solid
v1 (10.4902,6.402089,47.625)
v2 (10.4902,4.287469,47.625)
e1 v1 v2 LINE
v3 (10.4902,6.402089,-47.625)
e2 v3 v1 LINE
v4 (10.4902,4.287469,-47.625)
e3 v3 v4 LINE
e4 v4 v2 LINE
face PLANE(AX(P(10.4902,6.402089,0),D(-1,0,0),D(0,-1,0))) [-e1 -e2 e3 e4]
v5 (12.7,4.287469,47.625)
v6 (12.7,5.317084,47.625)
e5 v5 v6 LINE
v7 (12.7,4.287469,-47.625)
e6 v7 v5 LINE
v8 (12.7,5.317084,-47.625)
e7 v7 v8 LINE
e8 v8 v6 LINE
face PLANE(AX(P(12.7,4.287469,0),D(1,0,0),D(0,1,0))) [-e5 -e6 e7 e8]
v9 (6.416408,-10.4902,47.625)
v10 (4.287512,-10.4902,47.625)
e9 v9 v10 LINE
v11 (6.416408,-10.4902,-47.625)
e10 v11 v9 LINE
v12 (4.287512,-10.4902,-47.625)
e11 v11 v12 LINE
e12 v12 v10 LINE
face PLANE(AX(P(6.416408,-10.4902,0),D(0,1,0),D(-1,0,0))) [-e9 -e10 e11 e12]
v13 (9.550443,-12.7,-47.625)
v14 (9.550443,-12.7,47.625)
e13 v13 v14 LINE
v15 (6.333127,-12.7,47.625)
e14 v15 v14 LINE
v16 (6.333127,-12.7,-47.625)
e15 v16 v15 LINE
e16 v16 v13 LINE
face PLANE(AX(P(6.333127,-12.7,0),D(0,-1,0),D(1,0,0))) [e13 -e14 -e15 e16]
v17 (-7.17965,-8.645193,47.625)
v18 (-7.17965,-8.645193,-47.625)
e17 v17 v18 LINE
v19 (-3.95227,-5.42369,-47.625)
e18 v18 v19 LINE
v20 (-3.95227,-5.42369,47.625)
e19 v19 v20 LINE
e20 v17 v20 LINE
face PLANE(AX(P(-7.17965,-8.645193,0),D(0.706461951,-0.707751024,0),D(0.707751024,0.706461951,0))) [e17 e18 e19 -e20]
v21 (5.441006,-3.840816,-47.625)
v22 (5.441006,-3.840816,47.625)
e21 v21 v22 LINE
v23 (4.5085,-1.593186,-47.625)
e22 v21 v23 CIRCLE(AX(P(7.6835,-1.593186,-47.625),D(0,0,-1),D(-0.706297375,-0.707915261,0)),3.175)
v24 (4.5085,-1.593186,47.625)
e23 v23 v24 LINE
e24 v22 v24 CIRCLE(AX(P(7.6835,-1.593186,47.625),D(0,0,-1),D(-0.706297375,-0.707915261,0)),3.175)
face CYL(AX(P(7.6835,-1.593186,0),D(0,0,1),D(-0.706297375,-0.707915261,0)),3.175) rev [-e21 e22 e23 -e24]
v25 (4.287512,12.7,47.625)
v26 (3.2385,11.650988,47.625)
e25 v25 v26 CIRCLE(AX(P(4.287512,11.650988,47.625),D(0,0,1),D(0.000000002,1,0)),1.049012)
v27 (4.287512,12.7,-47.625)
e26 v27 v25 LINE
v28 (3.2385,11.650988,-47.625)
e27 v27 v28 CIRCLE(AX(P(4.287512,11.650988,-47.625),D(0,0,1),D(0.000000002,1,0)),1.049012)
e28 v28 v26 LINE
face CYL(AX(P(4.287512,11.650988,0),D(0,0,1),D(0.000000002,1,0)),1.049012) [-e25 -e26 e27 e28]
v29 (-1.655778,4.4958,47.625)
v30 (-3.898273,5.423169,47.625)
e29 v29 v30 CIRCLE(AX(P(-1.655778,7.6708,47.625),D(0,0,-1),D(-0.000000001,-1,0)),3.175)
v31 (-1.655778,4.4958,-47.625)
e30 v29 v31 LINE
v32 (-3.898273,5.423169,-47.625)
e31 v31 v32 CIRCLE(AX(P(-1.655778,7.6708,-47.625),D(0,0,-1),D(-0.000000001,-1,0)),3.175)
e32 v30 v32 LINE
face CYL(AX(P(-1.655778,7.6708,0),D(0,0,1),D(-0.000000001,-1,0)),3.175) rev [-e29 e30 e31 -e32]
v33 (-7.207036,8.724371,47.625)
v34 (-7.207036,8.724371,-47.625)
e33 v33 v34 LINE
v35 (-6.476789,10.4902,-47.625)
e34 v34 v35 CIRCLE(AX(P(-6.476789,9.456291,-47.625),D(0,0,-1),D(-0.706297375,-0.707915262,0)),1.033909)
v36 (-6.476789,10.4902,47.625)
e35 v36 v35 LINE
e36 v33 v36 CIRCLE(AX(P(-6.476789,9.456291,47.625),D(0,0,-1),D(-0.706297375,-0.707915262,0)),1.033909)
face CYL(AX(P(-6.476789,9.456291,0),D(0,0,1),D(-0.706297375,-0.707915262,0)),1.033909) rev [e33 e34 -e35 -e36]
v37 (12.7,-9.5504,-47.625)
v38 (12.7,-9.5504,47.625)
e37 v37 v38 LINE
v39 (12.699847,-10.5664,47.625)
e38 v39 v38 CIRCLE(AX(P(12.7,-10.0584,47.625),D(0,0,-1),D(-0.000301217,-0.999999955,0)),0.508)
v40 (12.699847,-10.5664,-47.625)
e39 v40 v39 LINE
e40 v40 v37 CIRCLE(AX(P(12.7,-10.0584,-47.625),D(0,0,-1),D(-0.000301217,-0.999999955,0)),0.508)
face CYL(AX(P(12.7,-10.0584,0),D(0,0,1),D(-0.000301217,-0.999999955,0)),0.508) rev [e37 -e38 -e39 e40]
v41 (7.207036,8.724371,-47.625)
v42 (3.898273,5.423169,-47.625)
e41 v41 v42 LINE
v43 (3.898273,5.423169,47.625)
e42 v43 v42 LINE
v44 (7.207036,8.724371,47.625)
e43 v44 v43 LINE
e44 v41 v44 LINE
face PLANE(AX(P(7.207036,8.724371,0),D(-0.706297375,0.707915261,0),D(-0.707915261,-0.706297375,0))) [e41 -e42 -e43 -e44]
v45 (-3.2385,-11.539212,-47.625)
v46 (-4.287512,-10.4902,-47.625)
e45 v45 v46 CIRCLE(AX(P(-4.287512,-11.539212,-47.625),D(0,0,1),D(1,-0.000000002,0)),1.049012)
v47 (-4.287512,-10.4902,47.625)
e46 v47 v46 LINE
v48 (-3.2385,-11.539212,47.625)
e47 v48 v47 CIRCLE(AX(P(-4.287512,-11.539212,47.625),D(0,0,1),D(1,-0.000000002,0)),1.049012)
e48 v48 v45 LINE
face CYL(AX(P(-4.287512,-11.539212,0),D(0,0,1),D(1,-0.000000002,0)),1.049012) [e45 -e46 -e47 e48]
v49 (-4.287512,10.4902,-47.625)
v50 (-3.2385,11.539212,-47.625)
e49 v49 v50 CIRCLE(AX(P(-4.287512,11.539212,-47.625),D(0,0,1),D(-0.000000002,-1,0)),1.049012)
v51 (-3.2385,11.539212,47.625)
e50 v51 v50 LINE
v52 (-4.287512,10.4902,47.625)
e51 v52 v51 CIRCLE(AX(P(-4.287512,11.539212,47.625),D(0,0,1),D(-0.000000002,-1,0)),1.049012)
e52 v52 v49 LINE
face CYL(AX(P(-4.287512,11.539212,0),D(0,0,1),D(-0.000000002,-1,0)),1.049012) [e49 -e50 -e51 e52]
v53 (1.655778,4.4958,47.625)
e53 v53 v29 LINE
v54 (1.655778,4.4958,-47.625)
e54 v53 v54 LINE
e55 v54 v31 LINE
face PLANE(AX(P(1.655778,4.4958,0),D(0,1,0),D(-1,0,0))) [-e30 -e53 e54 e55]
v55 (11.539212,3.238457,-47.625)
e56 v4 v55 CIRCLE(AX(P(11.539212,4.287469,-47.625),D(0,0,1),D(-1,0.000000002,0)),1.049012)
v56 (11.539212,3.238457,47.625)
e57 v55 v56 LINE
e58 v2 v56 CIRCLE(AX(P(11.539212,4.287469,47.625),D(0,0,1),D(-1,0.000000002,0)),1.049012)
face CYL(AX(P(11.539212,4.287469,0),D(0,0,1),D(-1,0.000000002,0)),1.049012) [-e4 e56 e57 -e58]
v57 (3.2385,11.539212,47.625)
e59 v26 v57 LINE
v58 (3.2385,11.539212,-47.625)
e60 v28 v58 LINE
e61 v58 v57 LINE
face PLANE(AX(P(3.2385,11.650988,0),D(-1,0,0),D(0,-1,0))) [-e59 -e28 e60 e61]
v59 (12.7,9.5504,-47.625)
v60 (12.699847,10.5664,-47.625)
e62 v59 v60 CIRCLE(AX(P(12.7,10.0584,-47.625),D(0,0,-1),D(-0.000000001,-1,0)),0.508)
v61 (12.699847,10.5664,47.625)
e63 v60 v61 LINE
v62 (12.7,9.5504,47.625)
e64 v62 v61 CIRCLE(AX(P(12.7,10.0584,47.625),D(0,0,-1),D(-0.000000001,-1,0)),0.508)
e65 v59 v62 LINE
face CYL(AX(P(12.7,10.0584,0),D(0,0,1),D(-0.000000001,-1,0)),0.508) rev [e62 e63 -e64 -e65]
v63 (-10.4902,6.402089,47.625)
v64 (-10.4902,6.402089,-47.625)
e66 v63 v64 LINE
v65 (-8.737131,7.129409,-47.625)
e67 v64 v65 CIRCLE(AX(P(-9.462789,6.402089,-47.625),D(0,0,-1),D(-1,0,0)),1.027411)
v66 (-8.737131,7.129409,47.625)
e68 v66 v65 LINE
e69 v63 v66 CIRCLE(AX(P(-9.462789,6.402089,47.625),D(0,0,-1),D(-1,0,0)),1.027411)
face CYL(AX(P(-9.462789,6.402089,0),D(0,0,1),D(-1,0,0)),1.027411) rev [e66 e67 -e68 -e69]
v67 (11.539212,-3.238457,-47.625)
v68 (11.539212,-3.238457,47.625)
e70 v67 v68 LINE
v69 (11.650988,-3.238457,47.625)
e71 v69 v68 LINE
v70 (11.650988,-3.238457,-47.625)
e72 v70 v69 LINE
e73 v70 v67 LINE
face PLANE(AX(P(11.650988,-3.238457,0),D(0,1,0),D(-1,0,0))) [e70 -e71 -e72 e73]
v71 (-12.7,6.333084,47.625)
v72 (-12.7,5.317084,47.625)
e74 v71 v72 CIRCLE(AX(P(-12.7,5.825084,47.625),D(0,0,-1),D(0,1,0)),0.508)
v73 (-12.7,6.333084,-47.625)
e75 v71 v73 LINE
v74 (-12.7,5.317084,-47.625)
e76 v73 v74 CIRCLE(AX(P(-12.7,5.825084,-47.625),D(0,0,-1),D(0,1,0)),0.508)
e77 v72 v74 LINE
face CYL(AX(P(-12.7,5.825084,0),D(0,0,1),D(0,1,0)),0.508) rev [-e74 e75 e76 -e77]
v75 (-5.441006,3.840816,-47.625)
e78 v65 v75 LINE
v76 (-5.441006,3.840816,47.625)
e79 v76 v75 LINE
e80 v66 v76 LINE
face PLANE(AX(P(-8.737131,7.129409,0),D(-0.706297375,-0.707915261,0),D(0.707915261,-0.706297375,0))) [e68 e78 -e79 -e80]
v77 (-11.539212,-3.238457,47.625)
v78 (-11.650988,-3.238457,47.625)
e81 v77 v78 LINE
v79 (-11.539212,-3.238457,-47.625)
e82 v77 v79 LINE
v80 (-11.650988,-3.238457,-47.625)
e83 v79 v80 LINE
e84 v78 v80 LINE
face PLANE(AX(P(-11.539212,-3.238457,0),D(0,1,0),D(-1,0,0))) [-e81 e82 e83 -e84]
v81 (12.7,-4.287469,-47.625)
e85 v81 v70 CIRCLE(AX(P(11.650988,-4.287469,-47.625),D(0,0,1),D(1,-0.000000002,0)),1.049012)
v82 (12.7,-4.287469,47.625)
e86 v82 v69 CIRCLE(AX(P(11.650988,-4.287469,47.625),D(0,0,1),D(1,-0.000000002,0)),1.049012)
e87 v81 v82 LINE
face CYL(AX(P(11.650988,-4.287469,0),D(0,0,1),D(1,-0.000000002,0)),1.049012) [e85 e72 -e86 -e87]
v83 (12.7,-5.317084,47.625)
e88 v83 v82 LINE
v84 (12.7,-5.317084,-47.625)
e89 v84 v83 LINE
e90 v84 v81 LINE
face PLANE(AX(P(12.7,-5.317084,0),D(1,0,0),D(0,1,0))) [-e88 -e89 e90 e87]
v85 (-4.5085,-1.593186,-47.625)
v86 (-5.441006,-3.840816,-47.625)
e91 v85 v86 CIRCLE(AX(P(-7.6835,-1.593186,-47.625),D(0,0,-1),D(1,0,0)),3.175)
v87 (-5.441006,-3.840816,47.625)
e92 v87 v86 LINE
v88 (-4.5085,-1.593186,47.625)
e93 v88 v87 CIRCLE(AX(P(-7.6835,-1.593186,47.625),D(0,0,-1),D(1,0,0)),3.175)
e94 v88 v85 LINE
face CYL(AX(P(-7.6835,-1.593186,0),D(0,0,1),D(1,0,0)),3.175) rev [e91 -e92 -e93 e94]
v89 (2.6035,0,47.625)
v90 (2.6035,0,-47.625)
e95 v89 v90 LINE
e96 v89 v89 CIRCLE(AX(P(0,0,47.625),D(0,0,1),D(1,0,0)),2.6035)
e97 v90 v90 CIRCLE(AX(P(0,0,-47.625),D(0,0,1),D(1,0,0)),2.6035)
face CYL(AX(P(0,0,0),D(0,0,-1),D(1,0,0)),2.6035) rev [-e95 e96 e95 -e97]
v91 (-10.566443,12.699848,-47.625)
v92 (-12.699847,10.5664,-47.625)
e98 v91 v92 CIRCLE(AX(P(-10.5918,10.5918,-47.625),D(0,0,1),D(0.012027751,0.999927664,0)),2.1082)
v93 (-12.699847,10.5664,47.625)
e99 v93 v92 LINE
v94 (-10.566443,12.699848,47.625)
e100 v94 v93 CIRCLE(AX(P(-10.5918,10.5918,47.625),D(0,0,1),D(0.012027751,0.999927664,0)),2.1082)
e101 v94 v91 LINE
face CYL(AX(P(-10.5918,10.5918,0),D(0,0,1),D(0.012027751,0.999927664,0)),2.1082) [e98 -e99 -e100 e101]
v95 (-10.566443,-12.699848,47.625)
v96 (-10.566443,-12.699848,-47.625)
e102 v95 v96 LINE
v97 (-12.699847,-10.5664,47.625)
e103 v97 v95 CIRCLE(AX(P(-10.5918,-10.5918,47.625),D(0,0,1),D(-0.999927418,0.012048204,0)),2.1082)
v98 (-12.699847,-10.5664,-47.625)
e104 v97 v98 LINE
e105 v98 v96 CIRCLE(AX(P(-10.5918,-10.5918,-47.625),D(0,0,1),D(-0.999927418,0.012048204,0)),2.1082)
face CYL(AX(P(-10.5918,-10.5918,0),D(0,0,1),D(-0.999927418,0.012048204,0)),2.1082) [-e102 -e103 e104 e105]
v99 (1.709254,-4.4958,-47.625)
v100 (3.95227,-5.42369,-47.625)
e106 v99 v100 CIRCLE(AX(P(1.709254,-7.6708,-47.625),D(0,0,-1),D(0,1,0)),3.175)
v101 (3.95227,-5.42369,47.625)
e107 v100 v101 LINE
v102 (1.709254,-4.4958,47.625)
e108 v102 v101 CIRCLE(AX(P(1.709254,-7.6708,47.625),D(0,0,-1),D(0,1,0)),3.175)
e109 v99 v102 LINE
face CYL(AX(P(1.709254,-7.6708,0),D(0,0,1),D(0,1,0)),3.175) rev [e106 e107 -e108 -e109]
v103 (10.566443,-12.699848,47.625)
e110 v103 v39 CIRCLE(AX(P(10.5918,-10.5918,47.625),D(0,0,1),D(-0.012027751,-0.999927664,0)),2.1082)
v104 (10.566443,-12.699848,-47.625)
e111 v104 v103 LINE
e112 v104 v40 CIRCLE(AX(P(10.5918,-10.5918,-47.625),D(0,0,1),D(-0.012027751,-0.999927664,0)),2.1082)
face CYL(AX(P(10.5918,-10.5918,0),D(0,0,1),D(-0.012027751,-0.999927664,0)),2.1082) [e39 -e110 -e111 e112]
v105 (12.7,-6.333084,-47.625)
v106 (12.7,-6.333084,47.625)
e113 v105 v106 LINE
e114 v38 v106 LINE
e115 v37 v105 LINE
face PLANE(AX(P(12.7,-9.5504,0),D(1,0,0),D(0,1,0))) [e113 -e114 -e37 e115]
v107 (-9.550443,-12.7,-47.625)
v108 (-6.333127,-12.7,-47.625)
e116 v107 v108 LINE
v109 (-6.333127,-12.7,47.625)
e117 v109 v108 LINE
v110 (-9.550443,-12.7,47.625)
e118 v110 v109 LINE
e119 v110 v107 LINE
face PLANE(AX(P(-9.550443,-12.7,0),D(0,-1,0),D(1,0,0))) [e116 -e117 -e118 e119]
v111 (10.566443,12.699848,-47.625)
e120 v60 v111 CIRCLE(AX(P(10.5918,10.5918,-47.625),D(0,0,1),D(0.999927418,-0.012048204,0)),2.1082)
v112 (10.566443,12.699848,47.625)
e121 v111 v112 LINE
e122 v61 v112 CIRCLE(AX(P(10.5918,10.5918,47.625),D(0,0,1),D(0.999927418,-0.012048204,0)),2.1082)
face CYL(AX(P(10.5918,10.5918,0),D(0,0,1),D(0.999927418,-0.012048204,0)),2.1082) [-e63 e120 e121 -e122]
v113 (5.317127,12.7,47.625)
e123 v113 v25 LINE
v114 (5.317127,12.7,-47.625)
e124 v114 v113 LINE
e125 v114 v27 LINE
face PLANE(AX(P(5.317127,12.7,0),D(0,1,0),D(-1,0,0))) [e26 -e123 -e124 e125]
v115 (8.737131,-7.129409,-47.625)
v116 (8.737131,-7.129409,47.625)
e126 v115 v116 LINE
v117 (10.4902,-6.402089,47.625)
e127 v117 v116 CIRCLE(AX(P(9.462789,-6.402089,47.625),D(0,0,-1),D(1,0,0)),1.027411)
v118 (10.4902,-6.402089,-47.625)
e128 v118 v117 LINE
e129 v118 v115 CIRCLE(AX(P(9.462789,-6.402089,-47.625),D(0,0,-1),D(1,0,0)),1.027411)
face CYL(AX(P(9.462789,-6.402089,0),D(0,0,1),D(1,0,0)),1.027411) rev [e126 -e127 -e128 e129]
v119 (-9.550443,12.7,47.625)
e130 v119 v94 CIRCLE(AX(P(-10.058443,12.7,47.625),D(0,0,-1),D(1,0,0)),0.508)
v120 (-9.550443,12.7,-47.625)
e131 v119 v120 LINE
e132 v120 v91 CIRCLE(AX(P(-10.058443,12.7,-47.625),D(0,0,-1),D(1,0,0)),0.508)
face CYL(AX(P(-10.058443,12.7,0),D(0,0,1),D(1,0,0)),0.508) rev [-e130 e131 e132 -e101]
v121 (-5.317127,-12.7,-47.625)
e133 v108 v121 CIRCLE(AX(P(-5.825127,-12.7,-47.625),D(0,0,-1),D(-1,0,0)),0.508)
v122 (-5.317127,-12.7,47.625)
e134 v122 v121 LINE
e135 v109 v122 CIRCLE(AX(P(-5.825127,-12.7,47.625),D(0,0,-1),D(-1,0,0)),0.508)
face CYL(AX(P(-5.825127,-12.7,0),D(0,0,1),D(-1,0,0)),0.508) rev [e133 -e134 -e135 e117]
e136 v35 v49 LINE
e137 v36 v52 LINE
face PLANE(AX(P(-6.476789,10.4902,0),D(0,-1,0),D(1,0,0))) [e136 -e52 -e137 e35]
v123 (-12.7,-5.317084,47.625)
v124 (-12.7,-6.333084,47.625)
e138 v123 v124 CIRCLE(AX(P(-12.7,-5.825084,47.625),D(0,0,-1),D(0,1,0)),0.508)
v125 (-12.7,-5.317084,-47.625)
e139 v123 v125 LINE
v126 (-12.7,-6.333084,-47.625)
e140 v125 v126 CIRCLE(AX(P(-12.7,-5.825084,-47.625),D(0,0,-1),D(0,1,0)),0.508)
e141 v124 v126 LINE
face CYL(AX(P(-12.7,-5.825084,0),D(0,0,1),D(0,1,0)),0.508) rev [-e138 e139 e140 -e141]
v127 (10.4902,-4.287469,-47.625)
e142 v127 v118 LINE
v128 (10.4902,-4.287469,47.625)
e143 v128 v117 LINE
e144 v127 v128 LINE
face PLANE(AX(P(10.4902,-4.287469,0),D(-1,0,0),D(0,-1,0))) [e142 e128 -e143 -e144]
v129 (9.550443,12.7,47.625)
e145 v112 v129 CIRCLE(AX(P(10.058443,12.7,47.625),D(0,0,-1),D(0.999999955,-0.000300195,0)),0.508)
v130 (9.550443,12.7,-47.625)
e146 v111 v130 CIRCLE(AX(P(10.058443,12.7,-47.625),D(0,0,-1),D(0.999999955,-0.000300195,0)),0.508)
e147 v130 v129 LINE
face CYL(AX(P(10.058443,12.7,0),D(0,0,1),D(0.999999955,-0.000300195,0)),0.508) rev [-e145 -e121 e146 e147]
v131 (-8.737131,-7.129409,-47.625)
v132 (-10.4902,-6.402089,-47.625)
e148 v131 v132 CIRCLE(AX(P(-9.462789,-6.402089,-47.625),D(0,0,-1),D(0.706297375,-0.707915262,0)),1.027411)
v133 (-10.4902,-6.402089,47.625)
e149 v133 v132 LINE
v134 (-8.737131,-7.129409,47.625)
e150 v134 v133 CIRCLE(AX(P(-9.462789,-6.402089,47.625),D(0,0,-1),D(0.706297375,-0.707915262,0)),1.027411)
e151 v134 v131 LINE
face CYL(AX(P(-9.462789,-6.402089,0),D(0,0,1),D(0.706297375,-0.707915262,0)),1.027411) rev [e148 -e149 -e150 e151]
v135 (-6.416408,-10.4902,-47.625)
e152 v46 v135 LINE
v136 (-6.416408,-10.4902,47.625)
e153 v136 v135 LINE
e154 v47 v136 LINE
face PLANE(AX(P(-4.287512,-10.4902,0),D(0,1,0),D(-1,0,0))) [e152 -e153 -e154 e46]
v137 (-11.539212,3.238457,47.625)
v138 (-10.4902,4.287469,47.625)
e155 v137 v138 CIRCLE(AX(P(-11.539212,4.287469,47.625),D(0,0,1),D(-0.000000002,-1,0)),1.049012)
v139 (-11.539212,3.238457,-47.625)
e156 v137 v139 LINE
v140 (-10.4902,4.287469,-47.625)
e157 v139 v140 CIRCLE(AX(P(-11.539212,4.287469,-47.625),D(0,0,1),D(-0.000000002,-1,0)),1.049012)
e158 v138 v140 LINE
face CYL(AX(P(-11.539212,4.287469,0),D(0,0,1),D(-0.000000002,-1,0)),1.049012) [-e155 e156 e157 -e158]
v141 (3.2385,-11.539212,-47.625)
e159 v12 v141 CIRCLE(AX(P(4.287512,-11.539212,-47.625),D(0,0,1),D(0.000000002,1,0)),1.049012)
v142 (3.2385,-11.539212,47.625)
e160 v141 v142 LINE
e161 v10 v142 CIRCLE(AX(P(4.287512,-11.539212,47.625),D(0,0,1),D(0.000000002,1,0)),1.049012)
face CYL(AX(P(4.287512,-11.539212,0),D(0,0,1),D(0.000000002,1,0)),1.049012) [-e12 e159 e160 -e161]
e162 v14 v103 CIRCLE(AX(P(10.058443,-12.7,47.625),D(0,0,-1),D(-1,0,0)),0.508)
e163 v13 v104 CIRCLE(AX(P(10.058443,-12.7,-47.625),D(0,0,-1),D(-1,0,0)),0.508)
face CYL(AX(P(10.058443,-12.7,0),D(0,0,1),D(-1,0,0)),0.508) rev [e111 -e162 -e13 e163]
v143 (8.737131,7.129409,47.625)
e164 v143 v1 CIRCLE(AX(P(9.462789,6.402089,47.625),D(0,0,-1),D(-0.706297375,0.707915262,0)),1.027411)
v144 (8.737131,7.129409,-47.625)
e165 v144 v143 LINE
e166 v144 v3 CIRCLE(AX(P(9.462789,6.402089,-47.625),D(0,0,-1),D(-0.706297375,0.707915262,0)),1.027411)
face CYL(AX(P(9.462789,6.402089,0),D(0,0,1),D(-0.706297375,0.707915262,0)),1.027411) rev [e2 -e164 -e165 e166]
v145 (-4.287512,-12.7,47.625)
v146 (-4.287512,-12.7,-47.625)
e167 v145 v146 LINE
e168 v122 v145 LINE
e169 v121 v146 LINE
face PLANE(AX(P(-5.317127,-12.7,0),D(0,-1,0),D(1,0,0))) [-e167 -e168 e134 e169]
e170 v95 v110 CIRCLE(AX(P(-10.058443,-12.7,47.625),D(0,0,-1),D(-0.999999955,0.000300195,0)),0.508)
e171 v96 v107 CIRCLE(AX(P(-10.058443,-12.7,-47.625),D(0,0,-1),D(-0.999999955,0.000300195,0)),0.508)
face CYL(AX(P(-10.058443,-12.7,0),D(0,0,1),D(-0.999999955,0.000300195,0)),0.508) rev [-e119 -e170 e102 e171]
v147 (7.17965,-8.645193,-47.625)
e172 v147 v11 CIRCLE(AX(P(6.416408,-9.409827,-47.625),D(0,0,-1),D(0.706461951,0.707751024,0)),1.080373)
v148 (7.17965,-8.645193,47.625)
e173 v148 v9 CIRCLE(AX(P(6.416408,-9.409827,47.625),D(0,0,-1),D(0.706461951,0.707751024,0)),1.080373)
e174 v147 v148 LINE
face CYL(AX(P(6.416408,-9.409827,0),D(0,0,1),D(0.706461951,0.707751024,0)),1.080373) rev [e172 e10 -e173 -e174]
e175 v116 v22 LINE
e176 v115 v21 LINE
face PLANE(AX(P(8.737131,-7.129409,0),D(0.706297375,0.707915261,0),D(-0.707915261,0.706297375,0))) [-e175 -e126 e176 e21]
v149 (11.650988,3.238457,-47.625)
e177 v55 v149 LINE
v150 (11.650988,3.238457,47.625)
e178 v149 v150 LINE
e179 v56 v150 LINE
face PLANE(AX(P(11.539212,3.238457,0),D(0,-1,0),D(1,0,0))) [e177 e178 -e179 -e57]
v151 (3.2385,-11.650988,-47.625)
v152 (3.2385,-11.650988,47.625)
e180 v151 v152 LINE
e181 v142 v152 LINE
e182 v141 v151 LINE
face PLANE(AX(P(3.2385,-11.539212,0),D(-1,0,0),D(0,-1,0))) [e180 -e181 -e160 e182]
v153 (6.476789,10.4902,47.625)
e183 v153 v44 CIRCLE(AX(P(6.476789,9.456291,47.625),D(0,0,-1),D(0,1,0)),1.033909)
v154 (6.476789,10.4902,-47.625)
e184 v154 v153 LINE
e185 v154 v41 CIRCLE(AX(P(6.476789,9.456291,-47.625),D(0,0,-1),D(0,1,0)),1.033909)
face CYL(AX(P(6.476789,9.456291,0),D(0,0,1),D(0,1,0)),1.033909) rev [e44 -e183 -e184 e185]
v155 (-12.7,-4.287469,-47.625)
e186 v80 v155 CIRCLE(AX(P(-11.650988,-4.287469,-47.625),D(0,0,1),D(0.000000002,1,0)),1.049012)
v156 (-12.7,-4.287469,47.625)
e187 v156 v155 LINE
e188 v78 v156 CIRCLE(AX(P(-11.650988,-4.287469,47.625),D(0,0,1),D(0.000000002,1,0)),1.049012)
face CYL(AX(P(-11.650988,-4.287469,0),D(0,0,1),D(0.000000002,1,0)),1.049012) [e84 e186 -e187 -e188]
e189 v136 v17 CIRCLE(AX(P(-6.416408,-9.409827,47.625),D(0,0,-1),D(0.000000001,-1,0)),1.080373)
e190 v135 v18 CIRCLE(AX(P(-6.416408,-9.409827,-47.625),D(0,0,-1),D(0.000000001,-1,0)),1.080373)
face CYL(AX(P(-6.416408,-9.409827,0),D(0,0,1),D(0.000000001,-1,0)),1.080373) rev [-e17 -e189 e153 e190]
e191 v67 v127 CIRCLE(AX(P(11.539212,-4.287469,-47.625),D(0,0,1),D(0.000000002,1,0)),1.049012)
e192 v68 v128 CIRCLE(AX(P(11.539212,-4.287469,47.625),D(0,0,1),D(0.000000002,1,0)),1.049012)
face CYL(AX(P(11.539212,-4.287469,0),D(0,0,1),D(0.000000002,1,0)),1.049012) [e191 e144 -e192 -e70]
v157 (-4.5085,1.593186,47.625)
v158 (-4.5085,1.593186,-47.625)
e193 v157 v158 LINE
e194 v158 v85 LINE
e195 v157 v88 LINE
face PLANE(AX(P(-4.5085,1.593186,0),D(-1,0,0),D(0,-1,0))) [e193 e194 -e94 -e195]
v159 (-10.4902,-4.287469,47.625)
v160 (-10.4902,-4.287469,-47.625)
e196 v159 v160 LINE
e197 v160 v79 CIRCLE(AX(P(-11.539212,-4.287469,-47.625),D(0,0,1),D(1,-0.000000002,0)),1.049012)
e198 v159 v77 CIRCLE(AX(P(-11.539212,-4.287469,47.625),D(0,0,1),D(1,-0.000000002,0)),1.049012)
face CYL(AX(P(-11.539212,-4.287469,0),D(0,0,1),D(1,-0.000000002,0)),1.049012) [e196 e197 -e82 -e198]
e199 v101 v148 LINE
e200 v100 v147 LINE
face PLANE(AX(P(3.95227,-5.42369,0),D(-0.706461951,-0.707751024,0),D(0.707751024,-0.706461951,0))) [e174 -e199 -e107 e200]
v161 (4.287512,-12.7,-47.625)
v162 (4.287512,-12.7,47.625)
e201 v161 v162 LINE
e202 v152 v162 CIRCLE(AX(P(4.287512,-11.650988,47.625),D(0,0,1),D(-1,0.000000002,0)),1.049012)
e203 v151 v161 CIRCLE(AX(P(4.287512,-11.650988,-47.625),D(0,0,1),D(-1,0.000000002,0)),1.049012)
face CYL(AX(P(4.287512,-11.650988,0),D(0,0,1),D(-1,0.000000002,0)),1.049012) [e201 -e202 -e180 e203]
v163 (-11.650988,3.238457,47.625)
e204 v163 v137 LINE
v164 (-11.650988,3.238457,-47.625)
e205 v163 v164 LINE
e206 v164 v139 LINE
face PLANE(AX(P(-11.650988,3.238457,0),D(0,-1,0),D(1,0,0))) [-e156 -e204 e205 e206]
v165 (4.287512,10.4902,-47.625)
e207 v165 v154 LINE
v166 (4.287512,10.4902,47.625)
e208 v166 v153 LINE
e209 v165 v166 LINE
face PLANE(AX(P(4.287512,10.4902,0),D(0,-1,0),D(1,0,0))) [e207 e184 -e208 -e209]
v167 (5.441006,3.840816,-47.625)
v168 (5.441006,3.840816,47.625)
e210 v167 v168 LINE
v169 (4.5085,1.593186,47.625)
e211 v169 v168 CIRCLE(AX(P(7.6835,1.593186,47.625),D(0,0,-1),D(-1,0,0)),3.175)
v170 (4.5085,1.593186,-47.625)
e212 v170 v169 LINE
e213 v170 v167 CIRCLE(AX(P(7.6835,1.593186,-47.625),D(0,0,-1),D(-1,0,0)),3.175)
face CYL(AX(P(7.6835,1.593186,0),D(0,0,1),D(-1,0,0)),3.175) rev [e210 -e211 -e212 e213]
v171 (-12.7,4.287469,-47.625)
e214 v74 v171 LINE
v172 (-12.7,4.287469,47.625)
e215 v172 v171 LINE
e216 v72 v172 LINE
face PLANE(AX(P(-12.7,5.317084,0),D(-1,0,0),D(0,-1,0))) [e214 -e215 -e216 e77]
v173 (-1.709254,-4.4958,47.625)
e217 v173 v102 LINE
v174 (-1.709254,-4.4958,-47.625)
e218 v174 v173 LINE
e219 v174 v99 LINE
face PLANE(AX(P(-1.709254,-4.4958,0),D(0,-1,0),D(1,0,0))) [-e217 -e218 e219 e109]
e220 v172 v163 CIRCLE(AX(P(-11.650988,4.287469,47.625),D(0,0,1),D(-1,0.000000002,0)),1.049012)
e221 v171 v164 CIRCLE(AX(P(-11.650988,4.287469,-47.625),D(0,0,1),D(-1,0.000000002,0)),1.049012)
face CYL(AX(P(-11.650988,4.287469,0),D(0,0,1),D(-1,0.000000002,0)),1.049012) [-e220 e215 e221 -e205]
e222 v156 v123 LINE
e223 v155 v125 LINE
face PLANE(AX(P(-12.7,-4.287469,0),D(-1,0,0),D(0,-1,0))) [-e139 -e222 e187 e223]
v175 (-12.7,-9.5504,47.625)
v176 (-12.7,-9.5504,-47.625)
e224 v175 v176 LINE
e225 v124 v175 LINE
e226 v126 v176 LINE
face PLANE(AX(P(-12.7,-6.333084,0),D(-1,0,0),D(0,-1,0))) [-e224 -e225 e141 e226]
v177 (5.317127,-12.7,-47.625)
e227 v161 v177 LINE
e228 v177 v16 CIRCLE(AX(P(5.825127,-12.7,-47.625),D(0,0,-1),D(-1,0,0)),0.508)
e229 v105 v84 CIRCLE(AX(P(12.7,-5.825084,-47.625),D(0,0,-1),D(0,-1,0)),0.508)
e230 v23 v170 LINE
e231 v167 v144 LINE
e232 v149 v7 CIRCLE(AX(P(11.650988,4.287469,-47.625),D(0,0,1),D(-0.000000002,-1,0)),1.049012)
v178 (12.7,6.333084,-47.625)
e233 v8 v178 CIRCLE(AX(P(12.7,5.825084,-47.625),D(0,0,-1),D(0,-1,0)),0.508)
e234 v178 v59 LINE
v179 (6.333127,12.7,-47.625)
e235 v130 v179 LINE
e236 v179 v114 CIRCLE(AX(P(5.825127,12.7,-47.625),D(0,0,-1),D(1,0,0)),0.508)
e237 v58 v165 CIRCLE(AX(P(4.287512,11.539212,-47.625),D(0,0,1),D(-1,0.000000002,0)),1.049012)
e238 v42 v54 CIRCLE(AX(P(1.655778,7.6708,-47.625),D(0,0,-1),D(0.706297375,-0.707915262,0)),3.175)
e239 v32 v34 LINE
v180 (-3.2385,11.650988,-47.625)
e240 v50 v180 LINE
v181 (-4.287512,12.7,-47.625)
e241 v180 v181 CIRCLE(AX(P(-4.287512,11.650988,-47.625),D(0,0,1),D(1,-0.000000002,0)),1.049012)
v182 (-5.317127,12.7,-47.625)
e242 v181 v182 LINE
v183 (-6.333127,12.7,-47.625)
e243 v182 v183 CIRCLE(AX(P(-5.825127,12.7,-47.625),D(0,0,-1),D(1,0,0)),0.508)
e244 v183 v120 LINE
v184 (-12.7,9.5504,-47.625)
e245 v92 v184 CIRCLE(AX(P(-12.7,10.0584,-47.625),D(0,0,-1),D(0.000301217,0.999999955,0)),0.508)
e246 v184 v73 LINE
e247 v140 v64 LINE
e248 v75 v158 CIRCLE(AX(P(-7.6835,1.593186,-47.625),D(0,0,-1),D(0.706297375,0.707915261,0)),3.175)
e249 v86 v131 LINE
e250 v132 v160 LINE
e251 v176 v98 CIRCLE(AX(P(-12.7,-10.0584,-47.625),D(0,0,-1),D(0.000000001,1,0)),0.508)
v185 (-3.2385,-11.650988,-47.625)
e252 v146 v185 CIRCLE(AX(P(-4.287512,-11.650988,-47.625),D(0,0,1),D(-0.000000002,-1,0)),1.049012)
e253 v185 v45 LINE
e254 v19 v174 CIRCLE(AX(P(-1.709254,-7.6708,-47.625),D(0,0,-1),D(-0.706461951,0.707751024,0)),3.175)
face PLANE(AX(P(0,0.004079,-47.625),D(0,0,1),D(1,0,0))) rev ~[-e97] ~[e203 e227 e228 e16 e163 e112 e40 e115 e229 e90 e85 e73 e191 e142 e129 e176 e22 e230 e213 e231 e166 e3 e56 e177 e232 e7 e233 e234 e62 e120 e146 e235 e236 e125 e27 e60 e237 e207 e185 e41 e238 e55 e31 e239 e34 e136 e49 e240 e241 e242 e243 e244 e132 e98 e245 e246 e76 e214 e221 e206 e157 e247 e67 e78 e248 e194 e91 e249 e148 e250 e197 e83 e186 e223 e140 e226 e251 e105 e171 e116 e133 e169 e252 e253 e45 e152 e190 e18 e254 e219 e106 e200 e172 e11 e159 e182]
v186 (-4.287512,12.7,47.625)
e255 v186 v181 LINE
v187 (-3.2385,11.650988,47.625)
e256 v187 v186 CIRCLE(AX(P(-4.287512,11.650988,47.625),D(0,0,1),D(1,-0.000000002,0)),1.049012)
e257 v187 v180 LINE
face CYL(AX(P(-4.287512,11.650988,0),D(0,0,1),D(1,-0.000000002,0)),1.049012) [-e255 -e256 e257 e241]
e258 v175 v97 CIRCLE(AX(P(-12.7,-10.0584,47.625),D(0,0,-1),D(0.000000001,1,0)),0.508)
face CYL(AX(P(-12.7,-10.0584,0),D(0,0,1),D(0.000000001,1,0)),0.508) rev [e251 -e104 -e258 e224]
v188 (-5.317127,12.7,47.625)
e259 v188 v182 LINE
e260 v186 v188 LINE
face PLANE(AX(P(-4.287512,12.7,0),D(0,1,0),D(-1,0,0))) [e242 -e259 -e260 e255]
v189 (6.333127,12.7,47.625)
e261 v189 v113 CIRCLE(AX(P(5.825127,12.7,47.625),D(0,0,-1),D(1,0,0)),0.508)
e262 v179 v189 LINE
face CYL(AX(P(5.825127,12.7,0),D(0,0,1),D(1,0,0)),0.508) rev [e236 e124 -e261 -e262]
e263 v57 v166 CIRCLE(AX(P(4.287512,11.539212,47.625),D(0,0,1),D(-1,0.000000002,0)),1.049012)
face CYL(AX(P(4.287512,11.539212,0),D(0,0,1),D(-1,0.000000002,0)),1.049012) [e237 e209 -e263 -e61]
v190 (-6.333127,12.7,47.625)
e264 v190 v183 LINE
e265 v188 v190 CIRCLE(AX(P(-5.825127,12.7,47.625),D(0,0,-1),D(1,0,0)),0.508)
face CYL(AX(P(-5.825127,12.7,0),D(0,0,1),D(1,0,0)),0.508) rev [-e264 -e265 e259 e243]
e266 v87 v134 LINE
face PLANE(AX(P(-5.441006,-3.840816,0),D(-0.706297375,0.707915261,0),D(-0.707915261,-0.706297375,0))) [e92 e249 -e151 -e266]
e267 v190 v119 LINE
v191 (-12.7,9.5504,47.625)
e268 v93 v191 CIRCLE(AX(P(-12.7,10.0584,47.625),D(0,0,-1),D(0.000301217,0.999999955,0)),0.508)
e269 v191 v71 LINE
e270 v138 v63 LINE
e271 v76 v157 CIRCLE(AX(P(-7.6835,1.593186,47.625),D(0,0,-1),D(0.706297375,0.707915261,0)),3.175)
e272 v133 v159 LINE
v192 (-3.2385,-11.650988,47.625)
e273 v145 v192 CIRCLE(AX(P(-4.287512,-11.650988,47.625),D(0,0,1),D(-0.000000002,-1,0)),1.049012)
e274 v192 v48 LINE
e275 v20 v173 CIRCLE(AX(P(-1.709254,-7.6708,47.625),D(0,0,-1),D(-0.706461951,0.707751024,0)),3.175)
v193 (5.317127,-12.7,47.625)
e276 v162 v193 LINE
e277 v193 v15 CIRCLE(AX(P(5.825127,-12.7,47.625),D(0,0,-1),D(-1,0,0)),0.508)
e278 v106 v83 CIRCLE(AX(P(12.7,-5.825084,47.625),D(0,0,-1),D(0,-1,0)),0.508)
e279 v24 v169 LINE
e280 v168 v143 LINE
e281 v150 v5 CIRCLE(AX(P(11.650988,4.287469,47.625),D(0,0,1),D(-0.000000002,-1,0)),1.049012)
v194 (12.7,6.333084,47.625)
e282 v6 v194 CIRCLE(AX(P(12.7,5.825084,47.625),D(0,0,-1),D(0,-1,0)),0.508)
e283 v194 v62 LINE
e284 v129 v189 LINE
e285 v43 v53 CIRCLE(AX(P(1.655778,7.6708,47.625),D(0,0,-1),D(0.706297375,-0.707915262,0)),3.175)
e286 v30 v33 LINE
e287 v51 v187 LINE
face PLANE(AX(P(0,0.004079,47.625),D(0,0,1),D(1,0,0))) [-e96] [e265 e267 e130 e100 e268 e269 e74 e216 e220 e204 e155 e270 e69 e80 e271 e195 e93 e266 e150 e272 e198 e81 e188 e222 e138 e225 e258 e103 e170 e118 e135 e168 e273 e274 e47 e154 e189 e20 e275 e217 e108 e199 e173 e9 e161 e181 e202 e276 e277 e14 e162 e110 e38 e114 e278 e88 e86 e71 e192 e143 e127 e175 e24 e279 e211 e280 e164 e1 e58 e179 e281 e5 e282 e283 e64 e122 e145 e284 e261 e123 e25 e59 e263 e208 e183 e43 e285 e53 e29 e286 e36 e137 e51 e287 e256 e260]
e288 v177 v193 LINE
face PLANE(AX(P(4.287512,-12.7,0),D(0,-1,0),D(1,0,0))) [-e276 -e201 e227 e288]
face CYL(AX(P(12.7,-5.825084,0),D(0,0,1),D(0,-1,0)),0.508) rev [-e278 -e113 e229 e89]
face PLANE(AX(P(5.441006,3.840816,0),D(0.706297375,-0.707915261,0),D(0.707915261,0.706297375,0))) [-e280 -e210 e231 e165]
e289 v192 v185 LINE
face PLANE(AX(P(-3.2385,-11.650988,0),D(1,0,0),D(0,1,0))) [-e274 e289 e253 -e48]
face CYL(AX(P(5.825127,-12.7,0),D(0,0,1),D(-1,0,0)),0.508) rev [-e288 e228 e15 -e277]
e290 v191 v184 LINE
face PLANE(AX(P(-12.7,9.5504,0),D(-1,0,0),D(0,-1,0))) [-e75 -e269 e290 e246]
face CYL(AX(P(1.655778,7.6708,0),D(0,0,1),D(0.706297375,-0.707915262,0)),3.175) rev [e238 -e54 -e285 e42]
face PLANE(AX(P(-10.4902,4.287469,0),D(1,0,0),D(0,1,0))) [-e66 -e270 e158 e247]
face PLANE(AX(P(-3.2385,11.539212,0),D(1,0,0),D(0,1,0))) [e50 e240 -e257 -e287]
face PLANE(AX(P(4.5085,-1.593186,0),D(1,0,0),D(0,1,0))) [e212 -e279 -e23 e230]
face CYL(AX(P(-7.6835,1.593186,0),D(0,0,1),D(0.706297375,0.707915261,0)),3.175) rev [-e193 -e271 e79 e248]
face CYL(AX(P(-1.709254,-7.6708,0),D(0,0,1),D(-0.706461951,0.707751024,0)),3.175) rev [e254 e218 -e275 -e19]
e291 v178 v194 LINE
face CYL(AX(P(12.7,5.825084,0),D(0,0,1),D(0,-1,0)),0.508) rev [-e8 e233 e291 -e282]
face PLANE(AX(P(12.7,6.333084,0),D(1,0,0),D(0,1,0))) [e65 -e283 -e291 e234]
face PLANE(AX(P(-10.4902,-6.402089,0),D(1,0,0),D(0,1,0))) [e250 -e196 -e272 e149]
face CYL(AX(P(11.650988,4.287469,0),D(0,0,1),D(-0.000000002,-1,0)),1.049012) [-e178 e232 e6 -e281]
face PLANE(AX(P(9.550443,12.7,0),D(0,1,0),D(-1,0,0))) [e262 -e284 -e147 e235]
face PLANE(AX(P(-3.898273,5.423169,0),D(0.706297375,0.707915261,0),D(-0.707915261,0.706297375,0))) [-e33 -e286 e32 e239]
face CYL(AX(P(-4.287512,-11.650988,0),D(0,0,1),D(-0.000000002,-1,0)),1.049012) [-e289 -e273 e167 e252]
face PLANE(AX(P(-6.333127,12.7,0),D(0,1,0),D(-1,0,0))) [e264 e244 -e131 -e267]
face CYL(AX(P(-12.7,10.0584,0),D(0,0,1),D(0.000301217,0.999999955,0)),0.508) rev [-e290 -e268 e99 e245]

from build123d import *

# Parameters (mm, degrees)
SKETCH1_R           = 2.6035
BOSS_EXTRUDE1_DEPTH = 47.625


with BuildPart() as part:
    # Sketch1 → Boss-Extrude1 (new, symmetric)
    with BuildSketch(Plane.XY):
        with BuildLine():
            Line((-7.179650497, -8.645192506), (-3.952270251, -5.423690499))
            ThreePointArc((-3.952270251, -5.423690499), (-2.922936451, -4.736929036), (-1.709253557, -4.4958))
            Line((-1.709253557, -4.4958), (1.709253557, -4.4958))
            ThreePointArc((1.709253557, -4.4958), (2.922936451, -4.736929036), (3.952270251, -5.423690499))
            Line((3.952270251, -5.423690499), (7.179650497, -8.645192506))
            ThreePointArc((7.179650497, -8.645192506), (7.41473083, -9.822813117), (6.416408329, -10.4902))
            Line((6.416408329, -10.4902), (4.287512407, -10.4902))
            ThreePointArc((4.287512407, -10.4902), (3.54574862, -10.79744862), (3.2385, -11.539212407))
            Line((3.2385, -11.539212407), (3.2385, -11.650987593))
            ThreePointArc((3.2385, -11.650987593), (3.54574862, -12.39275138), (4.287512407, -12.7))
            Line((4.287512407, -12.7), (5.317126718, -12.7))
            ThreePointArc((5.317126718, -12.7), (5.825126718, -12.192), (6.333126718, -12.7))
            Line((6.333126718, -12.7), (9.550443118, -12.7))
            ThreePointArc((9.550443118, -12.7), (10.058366869, -12.192000006), (10.566443095, -12.699847501))
            ThreePointArc((10.566443095, -12.699847501), (12.082537762, -12.08250727), (12.699846982, -10.566399977))
            ThreePointArc((12.699846982, -10.566399977), (12.192000006, -10.058323491), (12.7, -9.5504))
            Line((12.7, -9.5504), (12.7, -6.3330836))
            ThreePointArc((12.7, -6.3330836), (12.192, -5.8250836), (12.7, -5.3170836))
            Line((12.7, -5.3170836), (12.7, -4.287469289))
            ThreePointArc((12.7, -4.287469289), (12.39275138, -3.545705502), (11.650987593, -3.238456882))
            Line((11.650987593, -3.238456882), (11.539212407, -3.238456882))
            ThreePointArc((11.539212407, -3.238456882), (10.79744862, -3.545705502), (10.4902, -4.287469289))
            Line((10.4902, -4.287469289), (10.4902, -6.402089023))
            ThreePointArc((10.4902, -6.402089023), (9.856505071, -7.351067942), (8.737131347, -7.129408934))
            Line((8.737131347, -7.129408934), (5.441005833, -3.840816462))
            ThreePointArc((5.441005833, -3.840816462), (4.750877967, -2.809883091), (4.5085, -1.593185507))
            Line((4.5085, -1.593185507), (4.5085, 1.593185507))
            ThreePointArc((4.5085, 1.593185507), (4.750877967, 2.809883091), (5.441005833, 3.840816462))
            Line((5.441005833, 3.840816462), (8.737131347, 7.129408934))
            ThreePointArc((8.737131347, 7.129408934), (9.856505071, 7.351067942), (10.4902, 6.402089023))
            Line((10.4902, 6.402089023), (10.4902, 4.287469289))
            ThreePointArc((10.4902, 4.287469289), (10.79744862, 3.545705502), (11.539212407, 3.238456882))
            Line((11.539212407, 3.238456882), (11.650987593, 3.238456882))
            ThreePointArc((11.650987593, 3.238456882), (12.39275138, 3.545705502), (12.7, 4.287469289))
            Line((12.7, 4.287469289), (12.7, 5.3170836))
            ThreePointArc((12.7, 5.3170836), (12.192, 5.8250836), (12.7, 6.3330836))
            Line((12.7, 6.3330836), (12.7, 9.5504))
            ThreePointArc((12.7, 9.5504), (12.192000006, 10.058323491), (12.699846982, 10.566399977))
            ThreePointArc((12.699846982, 10.566399977), (12.082537762, 12.08250727), (10.566443095, 12.699847501))
            ThreePointArc((10.566443095, 12.699847501), (10.058366869, 12.192000006), (9.550443118, 12.7))
            Line((9.550443118, 12.7), (6.333126718, 12.7))
            ThreePointArc((6.333126718, 12.7), (5.825126718, 12.192), (5.317126718, 12.7))
            Line((5.317126718, 12.7), (4.287512407, 12.7))
            ThreePointArc((4.287512407, 12.7), (3.54574862, 12.39275138), (3.2385, 11.650987593))
            Line((3.2385, 11.650987593), (3.2385, 11.539212407))
            ThreePointArc((3.2385, 11.539212407), (3.54574862, 10.79744862), (4.287512407, 10.4902))
            Line((4.287512407, 10.4902), (6.476788598, 10.4902))
            ThreePointArc((6.476788598, 10.4902), (7.432222385, 9.85140422), (7.207036008, 8.724370562))
            Line((7.207036008, 8.724370562), (3.898272566, 5.423169045))
            ThreePointArc((3.898272566, 5.423169045), (2.869120213, 4.736787962), (1.655778399, 4.4958))
            Line((1.655778399, 4.4958), (-1.655778399, 4.4958))
            ThreePointArc((-1.655778399, 4.4958), (-2.869120213, 4.736787962), (-3.898272566, 5.423169045))
            Line((-3.898272566, 5.423169045), (-7.207036008, 8.724370562))
            ThreePointArc((-7.207036008, 8.724370562), (-7.432222385, 9.85140422), (-6.476788598, 10.4902))
            Line((-6.476788598, 10.4902), (-4.287512407, 10.4902))
            ThreePointArc((-4.287512407, 10.4902), (-3.54574862, 10.79744862), (-3.2385, 11.539212407))
            Line((-3.2385, 11.539212407), (-3.2385, 11.650987593))
            ThreePointArc((-3.2385, 11.650987593), (-3.54574862, 12.39275138), (-4.287512407, 12.7))
            Line((-4.287512407, 12.7), (-5.317126718, 12.7))
            ThreePointArc((-5.317126718, 12.7), (-5.825126718, 12.192), (-6.333126718, 12.7))
            Line((-6.333126718, 12.7), (-9.550443118, 12.7))
            ThreePointArc((-9.550443118, 12.7), (-10.058366869, 12.192000006), (-10.566443095, 12.699847501))
            ThreePointArc((-10.566443095, 12.699847501), (-12.082537762, 12.08250727), (-12.699846982, 10.566399977))
            ThreePointArc((-12.699846982, 10.566399977), (-12.192000006, 10.058323491), (-12.7, 9.5504))
            Line((-12.7, 9.5504), (-12.7, 6.3330836))
            ThreePointArc((-12.7, 6.3330836), (-12.192, 5.8250836), (-12.7, 5.3170836))
            Line((-12.7, 5.3170836), (-12.7, 4.287469289))
            ThreePointArc((-12.7, 4.287469289), (-12.39275138, 3.545705502), (-11.650987593, 3.238456882))
            Line((-11.650987593, 3.238456882), (-11.539212407, 3.238456882))
            ThreePointArc((-11.539212407, 3.238456882), (-10.79744862, 3.545705502), (-10.4902, 4.287469289))
            Line((-10.4902, 4.287469289), (-10.4902, 6.402089023))
            ThreePointArc((-10.4902, 6.402089023), (-9.856505071, 7.351067942), (-8.737131347, 7.129408934))
            Line((-8.737131347, 7.129408934), (-5.441005833, 3.840816462))
            ThreePointArc((-5.441005833, 3.840816462), (-4.750877967, 2.809883091), (-4.5085, 1.593185507))
            Line((-4.5085, 1.593185507), (-4.5085, -1.593185507))
            ThreePointArc((-4.5085, -1.593185507), (-4.750877967, -2.809883091), (-5.441005833, -3.840816462))
            Line((-5.441005833, -3.840816462), (-8.737131347, -7.129408934))
            ThreePointArc((-8.737131347, -7.129408934), (-9.856505071, -7.351067942), (-10.4902, -6.402089023))
            Line((-10.4902, -6.402089023), (-10.4902, -4.287469289))
            ThreePointArc((-10.4902, -4.287469289), (-10.79744862, -3.545705502), (-11.539212407, -3.238456882))
            Line((-11.539212407, -3.238456882), (-11.650987593, -3.238456882))
            ThreePointArc((-11.650987593, -3.238456882), (-12.39275138, -3.545705502), (-12.7, -4.287469289))
            Line((-12.7, -4.287469289), (-12.7, -5.3170836))
            ThreePointArc((-12.7, -5.3170836), (-12.192, -5.8250836), (-12.7, -6.3330836))
            Line((-12.7, -6.3330836), (-12.7, -9.5504))
            ThreePointArc((-12.7, -9.5504), (-12.192000006, -10.058323491), (-12.699846982, -10.566399977))
            ThreePointArc((-12.699846982, -10.566399977), (-12.082537762, -12.08250727), (-10.566443095, -12.699847501))
            ThreePointArc((-10.566443095, -12.699847501), (-10.058366869, -12.192000006), (-9.550443118, -12.7))
            Line((-9.550443118, -12.7), (-6.333126718, -12.7))
            ThreePointArc((-6.333126718, -12.7), (-5.825126718, -12.192), (-5.317126718, -12.7))
            Line((-5.317126718, -12.7), (-4.287512407, -12.7))
            ThreePointArc((-4.287512407, -12.7), (-3.54574862, -12.39275138), (-3.2385, -11.650987593))
            Line((-3.2385, -11.650987593), (-3.2385, -11.539212407))
            ThreePointArc((-3.2385, -11.539212407), (-3.54574862, -10.79744862), (-4.287512407, -10.4902))
            Line((-4.287512407, -10.4902), (-6.416408329, -10.4902))
            ThreePointArc((-6.416408329, -10.4902), (-7.41473083, -9.822813117), (-7.179650497, -8.645192506))
        make_face()
        Circle(SKETCH1_R, mode=Mode.SUBTRACT)
    extrude(amount=BOSS_EXTRUDE1_DEPTH, both=True)


solid = part.part
